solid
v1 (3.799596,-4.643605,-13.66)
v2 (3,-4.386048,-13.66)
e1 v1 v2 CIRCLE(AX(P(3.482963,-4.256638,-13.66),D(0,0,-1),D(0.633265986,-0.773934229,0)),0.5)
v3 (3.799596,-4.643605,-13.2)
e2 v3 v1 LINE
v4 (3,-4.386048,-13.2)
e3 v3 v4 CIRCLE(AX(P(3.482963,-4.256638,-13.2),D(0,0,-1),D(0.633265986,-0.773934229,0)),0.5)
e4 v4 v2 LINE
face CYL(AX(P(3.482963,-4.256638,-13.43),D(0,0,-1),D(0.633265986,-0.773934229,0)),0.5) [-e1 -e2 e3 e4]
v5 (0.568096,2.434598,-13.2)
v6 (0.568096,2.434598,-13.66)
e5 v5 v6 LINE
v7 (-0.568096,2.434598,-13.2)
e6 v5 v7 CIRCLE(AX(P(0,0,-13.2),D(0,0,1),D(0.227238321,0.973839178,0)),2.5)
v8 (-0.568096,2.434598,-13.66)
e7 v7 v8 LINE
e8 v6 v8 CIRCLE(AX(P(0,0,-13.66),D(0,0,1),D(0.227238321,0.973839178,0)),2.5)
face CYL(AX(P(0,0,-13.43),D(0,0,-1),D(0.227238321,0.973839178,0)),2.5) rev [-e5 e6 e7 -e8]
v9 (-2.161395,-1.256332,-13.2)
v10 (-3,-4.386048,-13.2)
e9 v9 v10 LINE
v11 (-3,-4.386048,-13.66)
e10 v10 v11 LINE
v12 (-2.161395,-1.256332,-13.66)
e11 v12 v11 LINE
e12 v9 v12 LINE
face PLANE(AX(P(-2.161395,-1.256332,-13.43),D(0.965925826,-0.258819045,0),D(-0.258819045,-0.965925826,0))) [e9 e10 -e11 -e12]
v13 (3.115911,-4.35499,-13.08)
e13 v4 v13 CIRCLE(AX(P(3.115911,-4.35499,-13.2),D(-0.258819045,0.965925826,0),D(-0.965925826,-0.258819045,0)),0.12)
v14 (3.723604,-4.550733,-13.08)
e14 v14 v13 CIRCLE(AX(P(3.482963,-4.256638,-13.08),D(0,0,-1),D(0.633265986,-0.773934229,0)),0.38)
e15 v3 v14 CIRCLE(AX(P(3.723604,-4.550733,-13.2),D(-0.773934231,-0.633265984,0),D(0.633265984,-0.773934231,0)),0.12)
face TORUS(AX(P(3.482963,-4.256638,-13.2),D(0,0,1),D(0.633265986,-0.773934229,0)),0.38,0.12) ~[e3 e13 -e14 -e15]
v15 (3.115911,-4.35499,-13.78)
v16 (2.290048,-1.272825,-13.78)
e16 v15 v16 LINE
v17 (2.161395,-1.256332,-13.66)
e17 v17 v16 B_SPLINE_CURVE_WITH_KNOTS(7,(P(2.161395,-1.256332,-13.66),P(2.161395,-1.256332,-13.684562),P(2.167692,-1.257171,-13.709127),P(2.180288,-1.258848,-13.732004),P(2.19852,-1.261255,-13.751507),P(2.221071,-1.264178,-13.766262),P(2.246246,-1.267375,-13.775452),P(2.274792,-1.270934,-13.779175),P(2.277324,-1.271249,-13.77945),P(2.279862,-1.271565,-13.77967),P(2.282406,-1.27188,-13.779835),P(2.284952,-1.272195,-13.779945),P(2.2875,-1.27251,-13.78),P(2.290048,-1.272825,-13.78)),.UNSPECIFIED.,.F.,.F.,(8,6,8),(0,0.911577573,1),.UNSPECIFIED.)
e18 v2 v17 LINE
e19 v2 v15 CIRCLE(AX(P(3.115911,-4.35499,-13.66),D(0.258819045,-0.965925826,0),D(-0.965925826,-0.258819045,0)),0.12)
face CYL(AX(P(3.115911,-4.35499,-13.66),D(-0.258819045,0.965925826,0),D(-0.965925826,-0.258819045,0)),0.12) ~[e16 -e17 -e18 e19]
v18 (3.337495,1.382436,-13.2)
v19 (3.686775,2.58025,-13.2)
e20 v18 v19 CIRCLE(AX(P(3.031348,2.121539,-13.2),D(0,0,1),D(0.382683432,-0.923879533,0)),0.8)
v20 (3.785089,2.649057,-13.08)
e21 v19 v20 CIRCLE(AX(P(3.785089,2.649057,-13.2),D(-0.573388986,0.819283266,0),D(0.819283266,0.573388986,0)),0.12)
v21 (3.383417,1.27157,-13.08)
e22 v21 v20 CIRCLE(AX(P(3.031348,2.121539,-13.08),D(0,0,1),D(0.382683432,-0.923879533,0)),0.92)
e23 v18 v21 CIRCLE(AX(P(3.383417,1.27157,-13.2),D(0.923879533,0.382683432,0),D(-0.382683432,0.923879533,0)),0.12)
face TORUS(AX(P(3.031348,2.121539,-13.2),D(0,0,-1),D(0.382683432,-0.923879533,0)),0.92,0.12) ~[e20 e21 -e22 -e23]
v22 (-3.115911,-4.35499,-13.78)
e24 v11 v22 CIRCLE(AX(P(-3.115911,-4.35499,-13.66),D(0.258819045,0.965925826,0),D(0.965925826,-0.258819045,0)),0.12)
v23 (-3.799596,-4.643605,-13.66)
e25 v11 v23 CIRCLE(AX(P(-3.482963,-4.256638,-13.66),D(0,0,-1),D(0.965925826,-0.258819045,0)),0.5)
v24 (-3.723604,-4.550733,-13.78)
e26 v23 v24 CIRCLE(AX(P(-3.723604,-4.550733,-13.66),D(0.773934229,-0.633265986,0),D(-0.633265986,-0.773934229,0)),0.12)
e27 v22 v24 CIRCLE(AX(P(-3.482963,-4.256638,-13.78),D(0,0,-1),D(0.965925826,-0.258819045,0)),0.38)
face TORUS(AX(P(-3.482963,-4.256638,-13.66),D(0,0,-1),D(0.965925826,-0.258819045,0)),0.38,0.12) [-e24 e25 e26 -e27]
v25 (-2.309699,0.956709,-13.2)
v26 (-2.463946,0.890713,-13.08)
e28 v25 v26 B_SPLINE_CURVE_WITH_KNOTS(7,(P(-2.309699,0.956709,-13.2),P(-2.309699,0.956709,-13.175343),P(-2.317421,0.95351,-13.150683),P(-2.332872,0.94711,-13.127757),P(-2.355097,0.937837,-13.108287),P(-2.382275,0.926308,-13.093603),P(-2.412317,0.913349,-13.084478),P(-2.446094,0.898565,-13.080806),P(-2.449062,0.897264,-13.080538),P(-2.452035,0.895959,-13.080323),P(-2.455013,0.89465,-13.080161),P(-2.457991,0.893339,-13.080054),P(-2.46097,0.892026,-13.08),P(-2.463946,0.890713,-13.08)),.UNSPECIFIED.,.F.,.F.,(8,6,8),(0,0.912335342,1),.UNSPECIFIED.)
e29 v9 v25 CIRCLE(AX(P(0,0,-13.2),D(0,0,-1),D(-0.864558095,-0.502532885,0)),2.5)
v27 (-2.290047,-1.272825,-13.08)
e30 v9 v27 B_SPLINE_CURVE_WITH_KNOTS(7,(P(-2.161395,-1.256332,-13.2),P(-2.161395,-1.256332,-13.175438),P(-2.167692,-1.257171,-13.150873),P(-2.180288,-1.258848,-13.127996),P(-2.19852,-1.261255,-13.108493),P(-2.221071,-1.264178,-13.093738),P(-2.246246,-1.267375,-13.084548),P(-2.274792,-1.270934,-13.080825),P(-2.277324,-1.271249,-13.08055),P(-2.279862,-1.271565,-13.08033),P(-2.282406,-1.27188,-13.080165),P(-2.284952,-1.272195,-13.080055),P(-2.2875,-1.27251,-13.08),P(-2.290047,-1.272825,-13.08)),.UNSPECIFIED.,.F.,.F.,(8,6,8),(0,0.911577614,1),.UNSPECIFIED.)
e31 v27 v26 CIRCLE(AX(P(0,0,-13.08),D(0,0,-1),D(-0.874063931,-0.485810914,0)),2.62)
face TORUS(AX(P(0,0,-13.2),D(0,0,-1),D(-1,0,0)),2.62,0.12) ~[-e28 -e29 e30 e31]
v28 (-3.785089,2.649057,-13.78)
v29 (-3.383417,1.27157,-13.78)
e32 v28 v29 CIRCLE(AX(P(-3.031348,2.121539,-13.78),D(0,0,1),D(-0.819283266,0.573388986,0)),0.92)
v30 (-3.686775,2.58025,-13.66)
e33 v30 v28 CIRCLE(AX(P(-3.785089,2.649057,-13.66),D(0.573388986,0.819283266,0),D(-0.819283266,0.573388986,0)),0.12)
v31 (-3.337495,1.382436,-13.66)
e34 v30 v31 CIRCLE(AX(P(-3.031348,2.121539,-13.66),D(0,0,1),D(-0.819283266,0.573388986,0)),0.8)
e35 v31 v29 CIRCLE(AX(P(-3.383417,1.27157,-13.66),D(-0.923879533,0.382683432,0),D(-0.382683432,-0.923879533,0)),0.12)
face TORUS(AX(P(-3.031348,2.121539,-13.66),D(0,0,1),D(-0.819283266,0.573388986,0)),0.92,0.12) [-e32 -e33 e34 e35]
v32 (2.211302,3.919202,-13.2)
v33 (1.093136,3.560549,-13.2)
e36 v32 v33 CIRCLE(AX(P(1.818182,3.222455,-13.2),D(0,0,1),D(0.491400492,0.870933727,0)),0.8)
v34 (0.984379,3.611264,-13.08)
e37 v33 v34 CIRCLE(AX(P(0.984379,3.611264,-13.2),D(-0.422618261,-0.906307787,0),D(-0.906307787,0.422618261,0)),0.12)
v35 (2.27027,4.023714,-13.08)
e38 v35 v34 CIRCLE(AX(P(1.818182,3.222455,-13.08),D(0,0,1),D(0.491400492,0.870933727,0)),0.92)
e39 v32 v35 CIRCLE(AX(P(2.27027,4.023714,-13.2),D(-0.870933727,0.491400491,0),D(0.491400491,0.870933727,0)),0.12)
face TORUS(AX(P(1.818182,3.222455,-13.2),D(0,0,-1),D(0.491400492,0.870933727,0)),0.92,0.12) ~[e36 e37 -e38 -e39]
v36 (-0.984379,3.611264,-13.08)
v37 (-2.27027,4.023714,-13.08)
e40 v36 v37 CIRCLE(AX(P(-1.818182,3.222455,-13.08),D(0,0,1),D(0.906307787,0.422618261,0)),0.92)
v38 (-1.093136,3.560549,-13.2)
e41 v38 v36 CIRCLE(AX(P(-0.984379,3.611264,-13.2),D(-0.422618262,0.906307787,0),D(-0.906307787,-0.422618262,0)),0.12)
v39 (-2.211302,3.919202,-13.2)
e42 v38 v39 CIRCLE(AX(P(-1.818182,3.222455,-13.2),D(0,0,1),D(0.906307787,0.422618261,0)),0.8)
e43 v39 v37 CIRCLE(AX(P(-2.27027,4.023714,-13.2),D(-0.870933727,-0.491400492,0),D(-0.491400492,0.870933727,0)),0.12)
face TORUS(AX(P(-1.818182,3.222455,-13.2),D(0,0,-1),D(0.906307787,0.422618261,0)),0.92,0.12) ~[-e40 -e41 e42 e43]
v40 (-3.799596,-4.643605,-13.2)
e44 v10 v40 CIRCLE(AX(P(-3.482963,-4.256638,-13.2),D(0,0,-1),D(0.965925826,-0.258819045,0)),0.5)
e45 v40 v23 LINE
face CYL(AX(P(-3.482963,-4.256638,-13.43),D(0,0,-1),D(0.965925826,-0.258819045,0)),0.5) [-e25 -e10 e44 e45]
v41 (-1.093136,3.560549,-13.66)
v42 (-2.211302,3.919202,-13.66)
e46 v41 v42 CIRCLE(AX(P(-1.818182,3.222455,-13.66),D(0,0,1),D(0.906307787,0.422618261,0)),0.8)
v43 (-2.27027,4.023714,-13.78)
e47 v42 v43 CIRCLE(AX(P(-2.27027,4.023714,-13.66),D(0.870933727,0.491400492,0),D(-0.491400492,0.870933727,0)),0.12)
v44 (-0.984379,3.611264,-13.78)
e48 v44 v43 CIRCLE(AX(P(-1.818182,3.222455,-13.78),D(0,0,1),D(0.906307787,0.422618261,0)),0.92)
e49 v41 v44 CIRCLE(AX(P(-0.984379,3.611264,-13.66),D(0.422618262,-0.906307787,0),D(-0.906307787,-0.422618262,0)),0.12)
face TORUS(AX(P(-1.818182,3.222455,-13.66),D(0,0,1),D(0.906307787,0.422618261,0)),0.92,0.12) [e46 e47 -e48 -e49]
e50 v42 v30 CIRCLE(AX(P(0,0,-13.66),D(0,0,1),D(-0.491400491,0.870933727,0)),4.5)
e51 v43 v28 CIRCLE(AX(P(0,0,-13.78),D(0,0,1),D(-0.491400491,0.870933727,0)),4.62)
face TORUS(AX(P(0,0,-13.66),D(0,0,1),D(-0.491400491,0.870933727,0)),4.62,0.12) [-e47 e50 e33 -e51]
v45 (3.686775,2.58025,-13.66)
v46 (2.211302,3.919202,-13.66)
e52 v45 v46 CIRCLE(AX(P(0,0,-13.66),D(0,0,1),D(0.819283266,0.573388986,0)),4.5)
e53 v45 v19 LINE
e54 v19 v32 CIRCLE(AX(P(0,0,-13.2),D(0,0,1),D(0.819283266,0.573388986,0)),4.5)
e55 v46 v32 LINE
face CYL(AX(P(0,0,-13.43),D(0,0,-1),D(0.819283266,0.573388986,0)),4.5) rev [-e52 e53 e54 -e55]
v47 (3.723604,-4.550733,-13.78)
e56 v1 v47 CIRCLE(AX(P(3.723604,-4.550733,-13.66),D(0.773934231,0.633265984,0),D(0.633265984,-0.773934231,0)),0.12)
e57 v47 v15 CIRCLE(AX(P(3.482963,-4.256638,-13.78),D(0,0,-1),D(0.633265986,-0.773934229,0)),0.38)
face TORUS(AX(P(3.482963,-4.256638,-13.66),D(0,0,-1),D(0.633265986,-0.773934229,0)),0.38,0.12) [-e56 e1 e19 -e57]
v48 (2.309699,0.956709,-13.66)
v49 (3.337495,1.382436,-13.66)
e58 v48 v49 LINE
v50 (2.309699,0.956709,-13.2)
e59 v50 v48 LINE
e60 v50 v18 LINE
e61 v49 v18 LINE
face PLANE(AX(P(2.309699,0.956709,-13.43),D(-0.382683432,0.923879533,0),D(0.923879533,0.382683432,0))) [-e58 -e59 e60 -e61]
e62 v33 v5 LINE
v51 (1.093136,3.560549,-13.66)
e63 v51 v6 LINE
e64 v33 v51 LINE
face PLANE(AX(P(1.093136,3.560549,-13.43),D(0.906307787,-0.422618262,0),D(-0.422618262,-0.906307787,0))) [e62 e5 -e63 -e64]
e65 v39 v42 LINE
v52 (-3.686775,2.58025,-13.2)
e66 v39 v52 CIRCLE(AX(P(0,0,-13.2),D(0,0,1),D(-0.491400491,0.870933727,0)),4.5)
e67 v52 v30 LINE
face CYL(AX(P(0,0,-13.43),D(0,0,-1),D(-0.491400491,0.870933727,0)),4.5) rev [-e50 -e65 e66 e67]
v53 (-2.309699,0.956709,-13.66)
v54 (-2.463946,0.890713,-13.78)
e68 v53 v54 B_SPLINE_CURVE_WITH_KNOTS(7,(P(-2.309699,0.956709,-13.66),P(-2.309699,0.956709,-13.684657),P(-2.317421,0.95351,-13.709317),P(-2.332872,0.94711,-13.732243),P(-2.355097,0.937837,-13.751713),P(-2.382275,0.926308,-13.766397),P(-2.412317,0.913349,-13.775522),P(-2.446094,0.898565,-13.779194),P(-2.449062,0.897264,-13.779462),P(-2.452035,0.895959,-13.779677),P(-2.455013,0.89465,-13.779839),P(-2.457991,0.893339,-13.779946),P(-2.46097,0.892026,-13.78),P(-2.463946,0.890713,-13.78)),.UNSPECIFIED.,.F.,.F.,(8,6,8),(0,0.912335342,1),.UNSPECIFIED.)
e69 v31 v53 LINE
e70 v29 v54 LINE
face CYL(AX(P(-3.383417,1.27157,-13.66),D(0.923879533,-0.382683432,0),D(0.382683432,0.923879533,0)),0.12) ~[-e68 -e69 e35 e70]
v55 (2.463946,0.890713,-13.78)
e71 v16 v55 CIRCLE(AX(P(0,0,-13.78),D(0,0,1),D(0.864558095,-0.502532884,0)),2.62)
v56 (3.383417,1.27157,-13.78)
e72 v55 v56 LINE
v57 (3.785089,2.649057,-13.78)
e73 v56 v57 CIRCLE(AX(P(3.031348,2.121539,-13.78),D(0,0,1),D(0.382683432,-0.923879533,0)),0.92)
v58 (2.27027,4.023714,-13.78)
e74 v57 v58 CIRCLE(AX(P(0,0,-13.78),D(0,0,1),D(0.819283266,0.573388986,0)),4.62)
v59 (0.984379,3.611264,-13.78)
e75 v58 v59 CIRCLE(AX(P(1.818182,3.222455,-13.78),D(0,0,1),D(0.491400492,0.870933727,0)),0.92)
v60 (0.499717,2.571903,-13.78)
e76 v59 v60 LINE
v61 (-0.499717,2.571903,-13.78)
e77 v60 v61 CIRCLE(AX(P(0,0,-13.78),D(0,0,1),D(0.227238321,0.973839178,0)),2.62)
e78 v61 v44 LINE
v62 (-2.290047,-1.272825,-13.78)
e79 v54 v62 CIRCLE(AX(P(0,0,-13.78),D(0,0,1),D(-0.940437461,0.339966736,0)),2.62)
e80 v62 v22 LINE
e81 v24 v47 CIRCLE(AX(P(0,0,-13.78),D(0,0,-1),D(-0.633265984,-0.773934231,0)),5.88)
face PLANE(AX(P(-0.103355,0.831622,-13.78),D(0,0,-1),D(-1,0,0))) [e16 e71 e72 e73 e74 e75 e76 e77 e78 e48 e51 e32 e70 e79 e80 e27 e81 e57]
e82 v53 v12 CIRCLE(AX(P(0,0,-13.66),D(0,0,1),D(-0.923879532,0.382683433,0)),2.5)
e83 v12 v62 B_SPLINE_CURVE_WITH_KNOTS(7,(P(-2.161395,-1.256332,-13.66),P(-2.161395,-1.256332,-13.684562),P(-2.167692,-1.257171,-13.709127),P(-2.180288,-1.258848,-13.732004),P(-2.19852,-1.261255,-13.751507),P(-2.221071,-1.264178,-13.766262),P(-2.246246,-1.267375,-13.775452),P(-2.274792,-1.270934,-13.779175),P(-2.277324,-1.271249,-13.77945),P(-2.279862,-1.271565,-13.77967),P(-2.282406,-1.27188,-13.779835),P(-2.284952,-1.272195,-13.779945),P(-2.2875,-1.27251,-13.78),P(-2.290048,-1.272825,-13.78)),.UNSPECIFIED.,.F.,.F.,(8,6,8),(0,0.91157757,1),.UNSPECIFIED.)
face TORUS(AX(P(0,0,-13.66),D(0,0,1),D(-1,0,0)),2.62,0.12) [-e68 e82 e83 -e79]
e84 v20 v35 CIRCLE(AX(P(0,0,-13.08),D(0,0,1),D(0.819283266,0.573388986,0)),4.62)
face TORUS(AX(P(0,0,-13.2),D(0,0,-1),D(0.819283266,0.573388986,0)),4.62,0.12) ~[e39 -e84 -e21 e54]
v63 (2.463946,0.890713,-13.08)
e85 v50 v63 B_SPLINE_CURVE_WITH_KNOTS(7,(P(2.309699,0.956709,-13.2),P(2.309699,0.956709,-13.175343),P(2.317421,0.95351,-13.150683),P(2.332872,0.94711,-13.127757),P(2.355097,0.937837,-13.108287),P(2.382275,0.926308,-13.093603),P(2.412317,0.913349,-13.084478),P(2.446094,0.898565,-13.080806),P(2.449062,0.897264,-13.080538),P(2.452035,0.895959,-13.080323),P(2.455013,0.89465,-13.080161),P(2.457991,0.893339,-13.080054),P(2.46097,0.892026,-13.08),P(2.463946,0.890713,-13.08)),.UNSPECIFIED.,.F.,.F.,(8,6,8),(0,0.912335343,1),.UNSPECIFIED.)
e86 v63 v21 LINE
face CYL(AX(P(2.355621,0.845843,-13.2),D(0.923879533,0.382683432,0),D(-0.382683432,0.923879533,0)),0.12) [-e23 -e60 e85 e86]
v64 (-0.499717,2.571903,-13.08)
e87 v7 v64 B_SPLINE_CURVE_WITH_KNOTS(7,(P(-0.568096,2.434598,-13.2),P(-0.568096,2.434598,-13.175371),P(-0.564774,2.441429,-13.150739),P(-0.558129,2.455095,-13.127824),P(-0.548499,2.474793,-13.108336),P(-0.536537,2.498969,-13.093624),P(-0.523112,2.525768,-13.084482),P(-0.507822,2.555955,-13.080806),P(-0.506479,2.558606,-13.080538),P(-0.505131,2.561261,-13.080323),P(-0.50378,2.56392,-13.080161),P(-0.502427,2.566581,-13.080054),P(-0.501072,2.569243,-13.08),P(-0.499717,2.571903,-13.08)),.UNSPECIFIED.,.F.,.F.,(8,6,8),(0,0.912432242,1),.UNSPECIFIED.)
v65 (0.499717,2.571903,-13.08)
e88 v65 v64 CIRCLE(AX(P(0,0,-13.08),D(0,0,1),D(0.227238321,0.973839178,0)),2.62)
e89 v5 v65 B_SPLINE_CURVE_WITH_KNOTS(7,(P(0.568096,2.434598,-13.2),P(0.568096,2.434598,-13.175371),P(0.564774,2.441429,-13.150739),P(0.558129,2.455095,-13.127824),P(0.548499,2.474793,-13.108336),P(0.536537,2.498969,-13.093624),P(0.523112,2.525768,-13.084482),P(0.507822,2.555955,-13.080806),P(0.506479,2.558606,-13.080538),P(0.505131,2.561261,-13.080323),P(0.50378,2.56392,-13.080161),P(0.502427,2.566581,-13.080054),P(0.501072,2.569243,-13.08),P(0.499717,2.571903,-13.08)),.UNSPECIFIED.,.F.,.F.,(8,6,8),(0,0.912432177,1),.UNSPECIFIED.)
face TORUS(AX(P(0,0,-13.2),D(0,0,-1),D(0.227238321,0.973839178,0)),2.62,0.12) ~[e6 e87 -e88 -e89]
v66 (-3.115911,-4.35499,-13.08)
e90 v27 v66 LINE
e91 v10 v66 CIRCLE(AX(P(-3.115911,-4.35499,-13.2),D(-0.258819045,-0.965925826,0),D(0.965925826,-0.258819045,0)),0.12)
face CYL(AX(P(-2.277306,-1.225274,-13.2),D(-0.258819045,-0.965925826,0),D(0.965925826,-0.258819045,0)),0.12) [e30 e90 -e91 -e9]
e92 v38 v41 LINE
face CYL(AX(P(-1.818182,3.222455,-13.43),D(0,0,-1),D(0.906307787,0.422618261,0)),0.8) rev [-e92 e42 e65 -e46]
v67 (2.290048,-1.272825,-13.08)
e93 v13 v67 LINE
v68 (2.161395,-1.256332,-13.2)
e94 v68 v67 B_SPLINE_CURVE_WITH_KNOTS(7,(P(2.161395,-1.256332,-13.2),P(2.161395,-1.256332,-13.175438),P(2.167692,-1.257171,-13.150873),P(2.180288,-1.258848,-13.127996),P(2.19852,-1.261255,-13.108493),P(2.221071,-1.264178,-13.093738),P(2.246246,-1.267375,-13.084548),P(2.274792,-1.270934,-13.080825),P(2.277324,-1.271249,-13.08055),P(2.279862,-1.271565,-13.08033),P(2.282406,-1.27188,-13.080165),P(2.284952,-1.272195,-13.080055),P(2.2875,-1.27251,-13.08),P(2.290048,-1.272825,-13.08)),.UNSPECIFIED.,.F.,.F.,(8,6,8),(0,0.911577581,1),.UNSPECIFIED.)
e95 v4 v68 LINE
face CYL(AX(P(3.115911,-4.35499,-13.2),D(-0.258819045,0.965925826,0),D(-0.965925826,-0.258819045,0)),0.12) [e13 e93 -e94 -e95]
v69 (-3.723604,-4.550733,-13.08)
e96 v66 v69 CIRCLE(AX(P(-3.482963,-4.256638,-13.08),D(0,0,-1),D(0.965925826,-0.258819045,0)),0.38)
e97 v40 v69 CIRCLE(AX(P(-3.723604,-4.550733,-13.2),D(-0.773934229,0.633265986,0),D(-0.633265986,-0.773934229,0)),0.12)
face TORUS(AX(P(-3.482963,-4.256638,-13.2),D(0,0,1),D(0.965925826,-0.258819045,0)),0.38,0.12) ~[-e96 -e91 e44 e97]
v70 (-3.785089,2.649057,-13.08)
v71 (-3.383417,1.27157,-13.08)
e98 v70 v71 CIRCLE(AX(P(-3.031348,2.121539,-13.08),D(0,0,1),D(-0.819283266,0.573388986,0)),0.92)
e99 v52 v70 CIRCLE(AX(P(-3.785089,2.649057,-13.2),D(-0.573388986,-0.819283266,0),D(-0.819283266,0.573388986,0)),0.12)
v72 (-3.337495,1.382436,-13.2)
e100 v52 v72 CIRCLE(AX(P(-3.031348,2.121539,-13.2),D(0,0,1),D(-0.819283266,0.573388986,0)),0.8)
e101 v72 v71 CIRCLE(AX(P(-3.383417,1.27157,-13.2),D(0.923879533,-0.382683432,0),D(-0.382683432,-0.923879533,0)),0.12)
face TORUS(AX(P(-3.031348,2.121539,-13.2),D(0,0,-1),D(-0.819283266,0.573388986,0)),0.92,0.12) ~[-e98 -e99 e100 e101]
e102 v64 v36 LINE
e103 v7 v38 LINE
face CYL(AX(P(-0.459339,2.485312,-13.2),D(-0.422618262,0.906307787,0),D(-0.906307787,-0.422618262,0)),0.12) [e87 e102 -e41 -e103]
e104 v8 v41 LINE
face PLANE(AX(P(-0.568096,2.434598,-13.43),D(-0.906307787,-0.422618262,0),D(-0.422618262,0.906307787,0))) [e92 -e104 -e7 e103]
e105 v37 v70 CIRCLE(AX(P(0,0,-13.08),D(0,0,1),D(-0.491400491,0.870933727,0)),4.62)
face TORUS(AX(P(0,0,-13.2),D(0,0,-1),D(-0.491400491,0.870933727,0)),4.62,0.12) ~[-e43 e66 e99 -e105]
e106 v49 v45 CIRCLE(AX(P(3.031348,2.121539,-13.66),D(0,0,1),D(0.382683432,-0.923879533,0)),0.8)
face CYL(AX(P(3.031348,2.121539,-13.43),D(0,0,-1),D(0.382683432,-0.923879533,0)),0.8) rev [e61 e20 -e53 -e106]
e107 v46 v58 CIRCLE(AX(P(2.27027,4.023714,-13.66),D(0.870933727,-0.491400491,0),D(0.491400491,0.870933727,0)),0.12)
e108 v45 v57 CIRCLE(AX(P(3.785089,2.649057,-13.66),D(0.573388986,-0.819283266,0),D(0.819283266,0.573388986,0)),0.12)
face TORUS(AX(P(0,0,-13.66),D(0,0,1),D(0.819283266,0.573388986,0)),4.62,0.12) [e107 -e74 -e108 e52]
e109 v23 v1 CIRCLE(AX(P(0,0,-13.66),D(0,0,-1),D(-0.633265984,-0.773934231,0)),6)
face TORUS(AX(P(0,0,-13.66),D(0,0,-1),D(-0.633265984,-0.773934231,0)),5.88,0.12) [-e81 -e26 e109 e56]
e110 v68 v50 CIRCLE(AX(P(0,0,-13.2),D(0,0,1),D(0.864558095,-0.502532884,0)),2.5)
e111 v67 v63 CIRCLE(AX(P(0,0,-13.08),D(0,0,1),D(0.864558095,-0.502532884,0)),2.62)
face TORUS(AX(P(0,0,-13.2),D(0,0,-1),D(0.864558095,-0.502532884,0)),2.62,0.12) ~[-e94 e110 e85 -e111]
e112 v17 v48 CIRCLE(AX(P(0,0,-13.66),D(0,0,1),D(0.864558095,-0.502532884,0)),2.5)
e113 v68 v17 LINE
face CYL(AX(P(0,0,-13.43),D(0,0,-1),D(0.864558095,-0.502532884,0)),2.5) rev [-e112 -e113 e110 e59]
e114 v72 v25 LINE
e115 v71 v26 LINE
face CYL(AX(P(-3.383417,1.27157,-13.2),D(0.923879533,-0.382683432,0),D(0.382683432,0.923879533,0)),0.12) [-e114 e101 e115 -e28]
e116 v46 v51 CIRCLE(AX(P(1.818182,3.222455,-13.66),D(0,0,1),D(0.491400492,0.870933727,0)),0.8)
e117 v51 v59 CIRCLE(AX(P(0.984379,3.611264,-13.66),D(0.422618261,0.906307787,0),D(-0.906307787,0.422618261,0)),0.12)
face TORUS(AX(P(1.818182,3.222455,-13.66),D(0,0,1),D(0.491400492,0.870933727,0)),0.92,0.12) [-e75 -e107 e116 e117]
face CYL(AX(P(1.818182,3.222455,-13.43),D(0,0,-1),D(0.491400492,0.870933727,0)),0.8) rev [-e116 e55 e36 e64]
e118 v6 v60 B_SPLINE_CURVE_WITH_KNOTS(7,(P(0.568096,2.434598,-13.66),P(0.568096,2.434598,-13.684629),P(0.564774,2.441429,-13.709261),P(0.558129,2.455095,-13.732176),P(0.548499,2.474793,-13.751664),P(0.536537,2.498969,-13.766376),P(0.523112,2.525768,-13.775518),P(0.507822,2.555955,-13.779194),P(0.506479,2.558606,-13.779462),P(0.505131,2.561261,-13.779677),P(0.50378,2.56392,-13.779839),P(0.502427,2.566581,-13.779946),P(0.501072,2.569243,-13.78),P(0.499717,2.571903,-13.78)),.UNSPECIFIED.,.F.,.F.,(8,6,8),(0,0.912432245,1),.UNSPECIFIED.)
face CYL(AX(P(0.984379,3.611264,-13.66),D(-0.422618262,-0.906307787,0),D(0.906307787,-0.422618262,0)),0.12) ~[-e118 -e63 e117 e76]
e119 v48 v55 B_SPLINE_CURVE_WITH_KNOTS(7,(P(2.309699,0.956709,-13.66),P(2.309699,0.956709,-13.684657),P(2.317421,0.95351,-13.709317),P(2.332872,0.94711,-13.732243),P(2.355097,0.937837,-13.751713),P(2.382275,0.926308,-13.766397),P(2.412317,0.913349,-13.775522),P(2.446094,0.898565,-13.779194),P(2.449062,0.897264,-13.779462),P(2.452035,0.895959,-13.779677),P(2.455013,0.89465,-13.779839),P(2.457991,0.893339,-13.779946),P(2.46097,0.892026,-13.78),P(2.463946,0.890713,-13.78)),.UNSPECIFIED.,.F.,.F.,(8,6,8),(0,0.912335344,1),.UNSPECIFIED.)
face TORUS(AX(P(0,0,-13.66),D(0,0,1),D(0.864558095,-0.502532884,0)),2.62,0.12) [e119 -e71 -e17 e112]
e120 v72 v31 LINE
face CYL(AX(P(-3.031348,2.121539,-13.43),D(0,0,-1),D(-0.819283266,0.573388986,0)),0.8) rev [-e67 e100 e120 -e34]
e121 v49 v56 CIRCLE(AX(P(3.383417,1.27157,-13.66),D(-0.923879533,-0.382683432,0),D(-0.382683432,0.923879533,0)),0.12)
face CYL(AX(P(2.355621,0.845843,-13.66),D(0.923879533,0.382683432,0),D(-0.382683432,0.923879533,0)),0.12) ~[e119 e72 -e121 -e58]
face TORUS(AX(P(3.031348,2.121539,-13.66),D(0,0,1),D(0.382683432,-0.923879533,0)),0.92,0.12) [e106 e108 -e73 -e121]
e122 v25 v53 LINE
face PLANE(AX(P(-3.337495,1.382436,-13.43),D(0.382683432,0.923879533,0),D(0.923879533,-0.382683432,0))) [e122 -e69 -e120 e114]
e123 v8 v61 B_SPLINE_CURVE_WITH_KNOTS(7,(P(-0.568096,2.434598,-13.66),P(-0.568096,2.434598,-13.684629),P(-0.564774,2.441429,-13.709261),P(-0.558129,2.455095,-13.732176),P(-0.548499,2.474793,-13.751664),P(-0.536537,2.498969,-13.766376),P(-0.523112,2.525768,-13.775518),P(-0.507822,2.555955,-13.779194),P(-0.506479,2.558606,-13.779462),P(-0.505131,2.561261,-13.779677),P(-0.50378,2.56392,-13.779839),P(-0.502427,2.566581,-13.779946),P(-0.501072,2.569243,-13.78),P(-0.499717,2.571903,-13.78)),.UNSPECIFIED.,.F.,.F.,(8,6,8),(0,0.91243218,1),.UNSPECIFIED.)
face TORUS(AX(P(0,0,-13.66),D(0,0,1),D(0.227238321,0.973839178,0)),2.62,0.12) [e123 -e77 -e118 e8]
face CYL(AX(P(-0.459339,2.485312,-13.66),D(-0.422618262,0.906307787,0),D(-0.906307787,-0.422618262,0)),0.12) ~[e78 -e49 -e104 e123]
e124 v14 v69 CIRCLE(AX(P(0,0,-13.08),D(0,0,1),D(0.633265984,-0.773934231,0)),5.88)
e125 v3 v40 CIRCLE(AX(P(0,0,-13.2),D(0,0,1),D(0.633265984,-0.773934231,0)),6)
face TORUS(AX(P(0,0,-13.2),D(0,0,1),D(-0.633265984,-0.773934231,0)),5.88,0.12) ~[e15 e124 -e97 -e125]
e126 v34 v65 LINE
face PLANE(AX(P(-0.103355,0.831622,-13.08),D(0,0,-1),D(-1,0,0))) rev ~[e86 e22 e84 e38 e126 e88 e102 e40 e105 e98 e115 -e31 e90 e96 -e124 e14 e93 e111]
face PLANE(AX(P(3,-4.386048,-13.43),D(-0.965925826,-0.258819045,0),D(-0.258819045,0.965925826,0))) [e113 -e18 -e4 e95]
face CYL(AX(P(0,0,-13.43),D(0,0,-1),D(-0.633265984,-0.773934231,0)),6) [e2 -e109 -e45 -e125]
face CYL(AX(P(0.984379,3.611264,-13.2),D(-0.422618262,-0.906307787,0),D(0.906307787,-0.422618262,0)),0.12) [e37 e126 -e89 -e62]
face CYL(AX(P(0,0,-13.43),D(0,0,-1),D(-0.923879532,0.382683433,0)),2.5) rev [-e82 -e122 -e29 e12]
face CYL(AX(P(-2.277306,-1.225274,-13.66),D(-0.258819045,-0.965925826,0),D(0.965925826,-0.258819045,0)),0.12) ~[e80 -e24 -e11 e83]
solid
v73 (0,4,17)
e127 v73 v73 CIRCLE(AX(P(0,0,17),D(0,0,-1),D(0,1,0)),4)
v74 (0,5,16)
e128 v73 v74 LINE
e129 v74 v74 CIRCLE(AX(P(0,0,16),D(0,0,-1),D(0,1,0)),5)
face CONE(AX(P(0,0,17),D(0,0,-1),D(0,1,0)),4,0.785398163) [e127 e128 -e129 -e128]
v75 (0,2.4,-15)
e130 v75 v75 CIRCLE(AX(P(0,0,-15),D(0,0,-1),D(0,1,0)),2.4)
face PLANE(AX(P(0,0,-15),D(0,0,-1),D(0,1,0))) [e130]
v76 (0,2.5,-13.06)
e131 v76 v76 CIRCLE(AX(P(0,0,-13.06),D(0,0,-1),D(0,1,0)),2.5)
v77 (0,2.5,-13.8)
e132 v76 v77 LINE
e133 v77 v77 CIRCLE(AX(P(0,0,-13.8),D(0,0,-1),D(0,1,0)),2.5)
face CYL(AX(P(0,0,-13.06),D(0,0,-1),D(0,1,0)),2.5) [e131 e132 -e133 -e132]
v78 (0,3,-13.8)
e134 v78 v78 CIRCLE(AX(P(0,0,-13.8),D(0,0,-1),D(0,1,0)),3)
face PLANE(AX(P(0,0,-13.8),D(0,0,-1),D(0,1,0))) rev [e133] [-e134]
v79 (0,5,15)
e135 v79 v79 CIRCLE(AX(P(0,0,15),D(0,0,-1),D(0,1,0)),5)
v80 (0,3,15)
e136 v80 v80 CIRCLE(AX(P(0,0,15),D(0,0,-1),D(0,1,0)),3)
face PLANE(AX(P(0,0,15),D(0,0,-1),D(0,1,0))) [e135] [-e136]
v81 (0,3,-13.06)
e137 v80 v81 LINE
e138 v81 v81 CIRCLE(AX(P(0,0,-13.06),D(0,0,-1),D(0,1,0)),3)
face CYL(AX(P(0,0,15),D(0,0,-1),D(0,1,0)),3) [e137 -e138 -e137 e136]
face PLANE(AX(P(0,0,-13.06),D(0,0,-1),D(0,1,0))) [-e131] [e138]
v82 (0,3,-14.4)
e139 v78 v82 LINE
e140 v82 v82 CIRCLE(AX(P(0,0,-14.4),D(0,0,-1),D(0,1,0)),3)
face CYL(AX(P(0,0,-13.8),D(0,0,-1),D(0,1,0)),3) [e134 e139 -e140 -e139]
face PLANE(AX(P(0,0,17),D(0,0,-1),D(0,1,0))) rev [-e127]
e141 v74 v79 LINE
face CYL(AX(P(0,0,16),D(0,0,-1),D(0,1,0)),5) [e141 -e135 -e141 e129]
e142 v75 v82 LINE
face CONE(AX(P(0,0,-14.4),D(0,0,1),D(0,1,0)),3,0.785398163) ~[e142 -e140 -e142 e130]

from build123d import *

# Parameters (mm, degrees)
BOSS_EXTRUDE1_DEPTH      = 0.35
BOSS_EXTRUDE1_DEPTH_BACK = 0.35
FILLET1_R                = 0.12
CHAMFER1_SIZE            = 0.6


with BuildPart() as part:
    # Sketch2 → Revolve1 (revolve)
    with BuildSketch(Plane(origin=(0, 0, 0), x_dir=(0, 0, -1), z_dir=(1, 0, 0))):
        Polygon((15, 3), (15, 0), (-17, 0), (-17, 4), (-16, 5), (-15, 5), (-15, 3), (13.06, 3), (13.06, 2.5), (13.8, 2.5), (13.8, 3), align=None)
    revolve(axis=Axis((0, 0, 15), (0, 0, -1)))

    # Chamfer1
    chamfer1_edges = [part.edges().sort_by_distance(p)[0] for p in [
        (0, -3, -15),
    ]]
    chamfer(chamfer1_edges, length=CHAMFER1_SIZE)


with BuildPart() as body_2:
    # Sketch3 → Boss-Extrude1 (new body, two sides)
    with BuildSketch(Plane(origin=(0, 0, -13.43), x_dir=(-1, 0, 0), z_dir=(0, 0, -1))) as boss_extrude1_sk:
        with BuildLine():
            ThreePointArc((-2.211302211, 3.919201772), (-1.573842768, 3.984228004), (-1.093135589, 3.5605494))
            Line((-1.093135589, 3.5605494), (-0.568095803, 2.434597946))
            ThreePointArc((-0.568095803, 2.434597946), (0, 2.5), (0.568095803, 2.434597946))
            Line((0.568095803, 2.434597946), (1.093135589, 3.5605494))
            ThreePointArc((1.093135589, 3.5605494), (1.573842768, 3.984228004), (2.211302211, 3.919201772))
            ThreePointArc((2.211302211, 3.919201772), (3.024074317, 3.332412718), (3.686774698, 2.580250438))
            ThreePointArc((3.686774698, 2.580250438), (3.799362352, 1.89758817), (3.337494831, 1.382435623))
            Line((3.337494831, 1.382435623), (2.309698831, 0.956708581))
            ThreePointArc((2.309698831, 0.956708581), (2.451963201, 0.487725805), (2.5, 0))
            ThreePointArc((2.5, 0), (2.41386496, -0.650581242), (2.161395238, -1.256332211))
            Line((2.161395238, -1.256332211), (3, -4.386047791))
            ThreePointArc((3, -4.386047791), (3.329664547, -4.732558021), (3.799595905, -4.643605383))
            ThreePointArc((3.799595905, -4.643605383), (5.422064894, -2.569282445), (6, 0))
            ThreePointArc((6, 0), (-2.569282445, 5.422064894), (-3.799595905, -4.643605383))
            ThreePointArc((-3.799595905, -4.643605383), (-3.329664547, -4.732558021), (-3, -4.386047791))
            Line((-3, -4.386047791), (-2.161395238, -1.256332211))
            ThreePointArc((-2.161395238, -1.256332211), (-2.494405326, -0.167158813), (-2.309698831, 0.956708581))
            Line((-2.309698831, 0.956708581), (-3.337494831, 1.382435623))
            ThreePointArc((-3.337494831, 1.382435623), (-3.799362352, 1.89758817), (-3.686774698, 2.580250438))
            ThreePointArc((-3.686774698, 2.580250438), (-3.024074317, 3.332412718), (-2.211302211, 3.919201772))
        make_face()
    extrude(amount=BOSS_EXTRUDE1_DEPTH)
    extrude(boss_extrude1_sk.sketch, amount=-BOSS_EXTRUDE1_DEPTH_BACK)

    # Fillet1
    fillet1_edges = [body_2.edges().sort_by_distance(p)[0] for p in [
        (3.329664547, -4.732558021, -13.78),
        (2.580697619, -2.821190001, -13.78),
        (2.494405326, -0.167158813, -13.78),
        (2.823596831, 1.169572102, -13.78),
        (3.799362352, 1.89758817, -13.78),
        (3.024074317, 3.332412718, -13.78),
        (1.573842768, 3.984228004, -13.78),
        (0.830615696, 2.997573673, -13.78),
        (0, 2.5, -13.78),
        (-3.329664547, -4.732558021, -13.08),
        (-2.580697619, -2.821190001, -13.08),
        (-2.823596831, 1.169572102, -13.08),
        (-0.830615696, 2.997573673, -13.08),
        (-3.329664547, -4.732558021, -13.78),
        (-0.830615696, 2.997573673, -13.78),
        (0.830615696, 2.997573673, -13.08),
        (2.823596831, 1.169572102, -13.08),
        (2.580697619, -2.821190001, -13.08),
        (-1.573842768, 3.984228004, -13.78),
        (3.329664547, -4.732558021, -13.08),
        (0, 6, -13.08),
        (-2.494405326, -0.167158813, -13.08),
        (-3.799362352, 1.89758817, -13.08),
        (-3.024074317, 3.332412718, -13.08),
        (-1.573842768, 3.984228004, -13.08),
        (0, 2.5, -13.08),
        (1.573842768, 3.984228004, -13.08),
        (3.024074317, 3.332412718, -13.08),
        (-3.024074317, 3.332412718, -13.78),
        (3.799362352, 1.89758817, -13.08),
        (2.494405326, -0.167158813, -13.08),
        (-3.799362352, 1.89758817, -13.78),
        (-2.823596831, 1.169572102, -13.78),
        (-2.494405326, -0.167158813, -13.78),
        (-2.580697619, -2.821190001, -13.78),
        (0, 6, -13.78),
    ]]
    fillet(fillet1_edges, radius=FILLET1_R)


solid = Compound([part.part, body_2.part])
